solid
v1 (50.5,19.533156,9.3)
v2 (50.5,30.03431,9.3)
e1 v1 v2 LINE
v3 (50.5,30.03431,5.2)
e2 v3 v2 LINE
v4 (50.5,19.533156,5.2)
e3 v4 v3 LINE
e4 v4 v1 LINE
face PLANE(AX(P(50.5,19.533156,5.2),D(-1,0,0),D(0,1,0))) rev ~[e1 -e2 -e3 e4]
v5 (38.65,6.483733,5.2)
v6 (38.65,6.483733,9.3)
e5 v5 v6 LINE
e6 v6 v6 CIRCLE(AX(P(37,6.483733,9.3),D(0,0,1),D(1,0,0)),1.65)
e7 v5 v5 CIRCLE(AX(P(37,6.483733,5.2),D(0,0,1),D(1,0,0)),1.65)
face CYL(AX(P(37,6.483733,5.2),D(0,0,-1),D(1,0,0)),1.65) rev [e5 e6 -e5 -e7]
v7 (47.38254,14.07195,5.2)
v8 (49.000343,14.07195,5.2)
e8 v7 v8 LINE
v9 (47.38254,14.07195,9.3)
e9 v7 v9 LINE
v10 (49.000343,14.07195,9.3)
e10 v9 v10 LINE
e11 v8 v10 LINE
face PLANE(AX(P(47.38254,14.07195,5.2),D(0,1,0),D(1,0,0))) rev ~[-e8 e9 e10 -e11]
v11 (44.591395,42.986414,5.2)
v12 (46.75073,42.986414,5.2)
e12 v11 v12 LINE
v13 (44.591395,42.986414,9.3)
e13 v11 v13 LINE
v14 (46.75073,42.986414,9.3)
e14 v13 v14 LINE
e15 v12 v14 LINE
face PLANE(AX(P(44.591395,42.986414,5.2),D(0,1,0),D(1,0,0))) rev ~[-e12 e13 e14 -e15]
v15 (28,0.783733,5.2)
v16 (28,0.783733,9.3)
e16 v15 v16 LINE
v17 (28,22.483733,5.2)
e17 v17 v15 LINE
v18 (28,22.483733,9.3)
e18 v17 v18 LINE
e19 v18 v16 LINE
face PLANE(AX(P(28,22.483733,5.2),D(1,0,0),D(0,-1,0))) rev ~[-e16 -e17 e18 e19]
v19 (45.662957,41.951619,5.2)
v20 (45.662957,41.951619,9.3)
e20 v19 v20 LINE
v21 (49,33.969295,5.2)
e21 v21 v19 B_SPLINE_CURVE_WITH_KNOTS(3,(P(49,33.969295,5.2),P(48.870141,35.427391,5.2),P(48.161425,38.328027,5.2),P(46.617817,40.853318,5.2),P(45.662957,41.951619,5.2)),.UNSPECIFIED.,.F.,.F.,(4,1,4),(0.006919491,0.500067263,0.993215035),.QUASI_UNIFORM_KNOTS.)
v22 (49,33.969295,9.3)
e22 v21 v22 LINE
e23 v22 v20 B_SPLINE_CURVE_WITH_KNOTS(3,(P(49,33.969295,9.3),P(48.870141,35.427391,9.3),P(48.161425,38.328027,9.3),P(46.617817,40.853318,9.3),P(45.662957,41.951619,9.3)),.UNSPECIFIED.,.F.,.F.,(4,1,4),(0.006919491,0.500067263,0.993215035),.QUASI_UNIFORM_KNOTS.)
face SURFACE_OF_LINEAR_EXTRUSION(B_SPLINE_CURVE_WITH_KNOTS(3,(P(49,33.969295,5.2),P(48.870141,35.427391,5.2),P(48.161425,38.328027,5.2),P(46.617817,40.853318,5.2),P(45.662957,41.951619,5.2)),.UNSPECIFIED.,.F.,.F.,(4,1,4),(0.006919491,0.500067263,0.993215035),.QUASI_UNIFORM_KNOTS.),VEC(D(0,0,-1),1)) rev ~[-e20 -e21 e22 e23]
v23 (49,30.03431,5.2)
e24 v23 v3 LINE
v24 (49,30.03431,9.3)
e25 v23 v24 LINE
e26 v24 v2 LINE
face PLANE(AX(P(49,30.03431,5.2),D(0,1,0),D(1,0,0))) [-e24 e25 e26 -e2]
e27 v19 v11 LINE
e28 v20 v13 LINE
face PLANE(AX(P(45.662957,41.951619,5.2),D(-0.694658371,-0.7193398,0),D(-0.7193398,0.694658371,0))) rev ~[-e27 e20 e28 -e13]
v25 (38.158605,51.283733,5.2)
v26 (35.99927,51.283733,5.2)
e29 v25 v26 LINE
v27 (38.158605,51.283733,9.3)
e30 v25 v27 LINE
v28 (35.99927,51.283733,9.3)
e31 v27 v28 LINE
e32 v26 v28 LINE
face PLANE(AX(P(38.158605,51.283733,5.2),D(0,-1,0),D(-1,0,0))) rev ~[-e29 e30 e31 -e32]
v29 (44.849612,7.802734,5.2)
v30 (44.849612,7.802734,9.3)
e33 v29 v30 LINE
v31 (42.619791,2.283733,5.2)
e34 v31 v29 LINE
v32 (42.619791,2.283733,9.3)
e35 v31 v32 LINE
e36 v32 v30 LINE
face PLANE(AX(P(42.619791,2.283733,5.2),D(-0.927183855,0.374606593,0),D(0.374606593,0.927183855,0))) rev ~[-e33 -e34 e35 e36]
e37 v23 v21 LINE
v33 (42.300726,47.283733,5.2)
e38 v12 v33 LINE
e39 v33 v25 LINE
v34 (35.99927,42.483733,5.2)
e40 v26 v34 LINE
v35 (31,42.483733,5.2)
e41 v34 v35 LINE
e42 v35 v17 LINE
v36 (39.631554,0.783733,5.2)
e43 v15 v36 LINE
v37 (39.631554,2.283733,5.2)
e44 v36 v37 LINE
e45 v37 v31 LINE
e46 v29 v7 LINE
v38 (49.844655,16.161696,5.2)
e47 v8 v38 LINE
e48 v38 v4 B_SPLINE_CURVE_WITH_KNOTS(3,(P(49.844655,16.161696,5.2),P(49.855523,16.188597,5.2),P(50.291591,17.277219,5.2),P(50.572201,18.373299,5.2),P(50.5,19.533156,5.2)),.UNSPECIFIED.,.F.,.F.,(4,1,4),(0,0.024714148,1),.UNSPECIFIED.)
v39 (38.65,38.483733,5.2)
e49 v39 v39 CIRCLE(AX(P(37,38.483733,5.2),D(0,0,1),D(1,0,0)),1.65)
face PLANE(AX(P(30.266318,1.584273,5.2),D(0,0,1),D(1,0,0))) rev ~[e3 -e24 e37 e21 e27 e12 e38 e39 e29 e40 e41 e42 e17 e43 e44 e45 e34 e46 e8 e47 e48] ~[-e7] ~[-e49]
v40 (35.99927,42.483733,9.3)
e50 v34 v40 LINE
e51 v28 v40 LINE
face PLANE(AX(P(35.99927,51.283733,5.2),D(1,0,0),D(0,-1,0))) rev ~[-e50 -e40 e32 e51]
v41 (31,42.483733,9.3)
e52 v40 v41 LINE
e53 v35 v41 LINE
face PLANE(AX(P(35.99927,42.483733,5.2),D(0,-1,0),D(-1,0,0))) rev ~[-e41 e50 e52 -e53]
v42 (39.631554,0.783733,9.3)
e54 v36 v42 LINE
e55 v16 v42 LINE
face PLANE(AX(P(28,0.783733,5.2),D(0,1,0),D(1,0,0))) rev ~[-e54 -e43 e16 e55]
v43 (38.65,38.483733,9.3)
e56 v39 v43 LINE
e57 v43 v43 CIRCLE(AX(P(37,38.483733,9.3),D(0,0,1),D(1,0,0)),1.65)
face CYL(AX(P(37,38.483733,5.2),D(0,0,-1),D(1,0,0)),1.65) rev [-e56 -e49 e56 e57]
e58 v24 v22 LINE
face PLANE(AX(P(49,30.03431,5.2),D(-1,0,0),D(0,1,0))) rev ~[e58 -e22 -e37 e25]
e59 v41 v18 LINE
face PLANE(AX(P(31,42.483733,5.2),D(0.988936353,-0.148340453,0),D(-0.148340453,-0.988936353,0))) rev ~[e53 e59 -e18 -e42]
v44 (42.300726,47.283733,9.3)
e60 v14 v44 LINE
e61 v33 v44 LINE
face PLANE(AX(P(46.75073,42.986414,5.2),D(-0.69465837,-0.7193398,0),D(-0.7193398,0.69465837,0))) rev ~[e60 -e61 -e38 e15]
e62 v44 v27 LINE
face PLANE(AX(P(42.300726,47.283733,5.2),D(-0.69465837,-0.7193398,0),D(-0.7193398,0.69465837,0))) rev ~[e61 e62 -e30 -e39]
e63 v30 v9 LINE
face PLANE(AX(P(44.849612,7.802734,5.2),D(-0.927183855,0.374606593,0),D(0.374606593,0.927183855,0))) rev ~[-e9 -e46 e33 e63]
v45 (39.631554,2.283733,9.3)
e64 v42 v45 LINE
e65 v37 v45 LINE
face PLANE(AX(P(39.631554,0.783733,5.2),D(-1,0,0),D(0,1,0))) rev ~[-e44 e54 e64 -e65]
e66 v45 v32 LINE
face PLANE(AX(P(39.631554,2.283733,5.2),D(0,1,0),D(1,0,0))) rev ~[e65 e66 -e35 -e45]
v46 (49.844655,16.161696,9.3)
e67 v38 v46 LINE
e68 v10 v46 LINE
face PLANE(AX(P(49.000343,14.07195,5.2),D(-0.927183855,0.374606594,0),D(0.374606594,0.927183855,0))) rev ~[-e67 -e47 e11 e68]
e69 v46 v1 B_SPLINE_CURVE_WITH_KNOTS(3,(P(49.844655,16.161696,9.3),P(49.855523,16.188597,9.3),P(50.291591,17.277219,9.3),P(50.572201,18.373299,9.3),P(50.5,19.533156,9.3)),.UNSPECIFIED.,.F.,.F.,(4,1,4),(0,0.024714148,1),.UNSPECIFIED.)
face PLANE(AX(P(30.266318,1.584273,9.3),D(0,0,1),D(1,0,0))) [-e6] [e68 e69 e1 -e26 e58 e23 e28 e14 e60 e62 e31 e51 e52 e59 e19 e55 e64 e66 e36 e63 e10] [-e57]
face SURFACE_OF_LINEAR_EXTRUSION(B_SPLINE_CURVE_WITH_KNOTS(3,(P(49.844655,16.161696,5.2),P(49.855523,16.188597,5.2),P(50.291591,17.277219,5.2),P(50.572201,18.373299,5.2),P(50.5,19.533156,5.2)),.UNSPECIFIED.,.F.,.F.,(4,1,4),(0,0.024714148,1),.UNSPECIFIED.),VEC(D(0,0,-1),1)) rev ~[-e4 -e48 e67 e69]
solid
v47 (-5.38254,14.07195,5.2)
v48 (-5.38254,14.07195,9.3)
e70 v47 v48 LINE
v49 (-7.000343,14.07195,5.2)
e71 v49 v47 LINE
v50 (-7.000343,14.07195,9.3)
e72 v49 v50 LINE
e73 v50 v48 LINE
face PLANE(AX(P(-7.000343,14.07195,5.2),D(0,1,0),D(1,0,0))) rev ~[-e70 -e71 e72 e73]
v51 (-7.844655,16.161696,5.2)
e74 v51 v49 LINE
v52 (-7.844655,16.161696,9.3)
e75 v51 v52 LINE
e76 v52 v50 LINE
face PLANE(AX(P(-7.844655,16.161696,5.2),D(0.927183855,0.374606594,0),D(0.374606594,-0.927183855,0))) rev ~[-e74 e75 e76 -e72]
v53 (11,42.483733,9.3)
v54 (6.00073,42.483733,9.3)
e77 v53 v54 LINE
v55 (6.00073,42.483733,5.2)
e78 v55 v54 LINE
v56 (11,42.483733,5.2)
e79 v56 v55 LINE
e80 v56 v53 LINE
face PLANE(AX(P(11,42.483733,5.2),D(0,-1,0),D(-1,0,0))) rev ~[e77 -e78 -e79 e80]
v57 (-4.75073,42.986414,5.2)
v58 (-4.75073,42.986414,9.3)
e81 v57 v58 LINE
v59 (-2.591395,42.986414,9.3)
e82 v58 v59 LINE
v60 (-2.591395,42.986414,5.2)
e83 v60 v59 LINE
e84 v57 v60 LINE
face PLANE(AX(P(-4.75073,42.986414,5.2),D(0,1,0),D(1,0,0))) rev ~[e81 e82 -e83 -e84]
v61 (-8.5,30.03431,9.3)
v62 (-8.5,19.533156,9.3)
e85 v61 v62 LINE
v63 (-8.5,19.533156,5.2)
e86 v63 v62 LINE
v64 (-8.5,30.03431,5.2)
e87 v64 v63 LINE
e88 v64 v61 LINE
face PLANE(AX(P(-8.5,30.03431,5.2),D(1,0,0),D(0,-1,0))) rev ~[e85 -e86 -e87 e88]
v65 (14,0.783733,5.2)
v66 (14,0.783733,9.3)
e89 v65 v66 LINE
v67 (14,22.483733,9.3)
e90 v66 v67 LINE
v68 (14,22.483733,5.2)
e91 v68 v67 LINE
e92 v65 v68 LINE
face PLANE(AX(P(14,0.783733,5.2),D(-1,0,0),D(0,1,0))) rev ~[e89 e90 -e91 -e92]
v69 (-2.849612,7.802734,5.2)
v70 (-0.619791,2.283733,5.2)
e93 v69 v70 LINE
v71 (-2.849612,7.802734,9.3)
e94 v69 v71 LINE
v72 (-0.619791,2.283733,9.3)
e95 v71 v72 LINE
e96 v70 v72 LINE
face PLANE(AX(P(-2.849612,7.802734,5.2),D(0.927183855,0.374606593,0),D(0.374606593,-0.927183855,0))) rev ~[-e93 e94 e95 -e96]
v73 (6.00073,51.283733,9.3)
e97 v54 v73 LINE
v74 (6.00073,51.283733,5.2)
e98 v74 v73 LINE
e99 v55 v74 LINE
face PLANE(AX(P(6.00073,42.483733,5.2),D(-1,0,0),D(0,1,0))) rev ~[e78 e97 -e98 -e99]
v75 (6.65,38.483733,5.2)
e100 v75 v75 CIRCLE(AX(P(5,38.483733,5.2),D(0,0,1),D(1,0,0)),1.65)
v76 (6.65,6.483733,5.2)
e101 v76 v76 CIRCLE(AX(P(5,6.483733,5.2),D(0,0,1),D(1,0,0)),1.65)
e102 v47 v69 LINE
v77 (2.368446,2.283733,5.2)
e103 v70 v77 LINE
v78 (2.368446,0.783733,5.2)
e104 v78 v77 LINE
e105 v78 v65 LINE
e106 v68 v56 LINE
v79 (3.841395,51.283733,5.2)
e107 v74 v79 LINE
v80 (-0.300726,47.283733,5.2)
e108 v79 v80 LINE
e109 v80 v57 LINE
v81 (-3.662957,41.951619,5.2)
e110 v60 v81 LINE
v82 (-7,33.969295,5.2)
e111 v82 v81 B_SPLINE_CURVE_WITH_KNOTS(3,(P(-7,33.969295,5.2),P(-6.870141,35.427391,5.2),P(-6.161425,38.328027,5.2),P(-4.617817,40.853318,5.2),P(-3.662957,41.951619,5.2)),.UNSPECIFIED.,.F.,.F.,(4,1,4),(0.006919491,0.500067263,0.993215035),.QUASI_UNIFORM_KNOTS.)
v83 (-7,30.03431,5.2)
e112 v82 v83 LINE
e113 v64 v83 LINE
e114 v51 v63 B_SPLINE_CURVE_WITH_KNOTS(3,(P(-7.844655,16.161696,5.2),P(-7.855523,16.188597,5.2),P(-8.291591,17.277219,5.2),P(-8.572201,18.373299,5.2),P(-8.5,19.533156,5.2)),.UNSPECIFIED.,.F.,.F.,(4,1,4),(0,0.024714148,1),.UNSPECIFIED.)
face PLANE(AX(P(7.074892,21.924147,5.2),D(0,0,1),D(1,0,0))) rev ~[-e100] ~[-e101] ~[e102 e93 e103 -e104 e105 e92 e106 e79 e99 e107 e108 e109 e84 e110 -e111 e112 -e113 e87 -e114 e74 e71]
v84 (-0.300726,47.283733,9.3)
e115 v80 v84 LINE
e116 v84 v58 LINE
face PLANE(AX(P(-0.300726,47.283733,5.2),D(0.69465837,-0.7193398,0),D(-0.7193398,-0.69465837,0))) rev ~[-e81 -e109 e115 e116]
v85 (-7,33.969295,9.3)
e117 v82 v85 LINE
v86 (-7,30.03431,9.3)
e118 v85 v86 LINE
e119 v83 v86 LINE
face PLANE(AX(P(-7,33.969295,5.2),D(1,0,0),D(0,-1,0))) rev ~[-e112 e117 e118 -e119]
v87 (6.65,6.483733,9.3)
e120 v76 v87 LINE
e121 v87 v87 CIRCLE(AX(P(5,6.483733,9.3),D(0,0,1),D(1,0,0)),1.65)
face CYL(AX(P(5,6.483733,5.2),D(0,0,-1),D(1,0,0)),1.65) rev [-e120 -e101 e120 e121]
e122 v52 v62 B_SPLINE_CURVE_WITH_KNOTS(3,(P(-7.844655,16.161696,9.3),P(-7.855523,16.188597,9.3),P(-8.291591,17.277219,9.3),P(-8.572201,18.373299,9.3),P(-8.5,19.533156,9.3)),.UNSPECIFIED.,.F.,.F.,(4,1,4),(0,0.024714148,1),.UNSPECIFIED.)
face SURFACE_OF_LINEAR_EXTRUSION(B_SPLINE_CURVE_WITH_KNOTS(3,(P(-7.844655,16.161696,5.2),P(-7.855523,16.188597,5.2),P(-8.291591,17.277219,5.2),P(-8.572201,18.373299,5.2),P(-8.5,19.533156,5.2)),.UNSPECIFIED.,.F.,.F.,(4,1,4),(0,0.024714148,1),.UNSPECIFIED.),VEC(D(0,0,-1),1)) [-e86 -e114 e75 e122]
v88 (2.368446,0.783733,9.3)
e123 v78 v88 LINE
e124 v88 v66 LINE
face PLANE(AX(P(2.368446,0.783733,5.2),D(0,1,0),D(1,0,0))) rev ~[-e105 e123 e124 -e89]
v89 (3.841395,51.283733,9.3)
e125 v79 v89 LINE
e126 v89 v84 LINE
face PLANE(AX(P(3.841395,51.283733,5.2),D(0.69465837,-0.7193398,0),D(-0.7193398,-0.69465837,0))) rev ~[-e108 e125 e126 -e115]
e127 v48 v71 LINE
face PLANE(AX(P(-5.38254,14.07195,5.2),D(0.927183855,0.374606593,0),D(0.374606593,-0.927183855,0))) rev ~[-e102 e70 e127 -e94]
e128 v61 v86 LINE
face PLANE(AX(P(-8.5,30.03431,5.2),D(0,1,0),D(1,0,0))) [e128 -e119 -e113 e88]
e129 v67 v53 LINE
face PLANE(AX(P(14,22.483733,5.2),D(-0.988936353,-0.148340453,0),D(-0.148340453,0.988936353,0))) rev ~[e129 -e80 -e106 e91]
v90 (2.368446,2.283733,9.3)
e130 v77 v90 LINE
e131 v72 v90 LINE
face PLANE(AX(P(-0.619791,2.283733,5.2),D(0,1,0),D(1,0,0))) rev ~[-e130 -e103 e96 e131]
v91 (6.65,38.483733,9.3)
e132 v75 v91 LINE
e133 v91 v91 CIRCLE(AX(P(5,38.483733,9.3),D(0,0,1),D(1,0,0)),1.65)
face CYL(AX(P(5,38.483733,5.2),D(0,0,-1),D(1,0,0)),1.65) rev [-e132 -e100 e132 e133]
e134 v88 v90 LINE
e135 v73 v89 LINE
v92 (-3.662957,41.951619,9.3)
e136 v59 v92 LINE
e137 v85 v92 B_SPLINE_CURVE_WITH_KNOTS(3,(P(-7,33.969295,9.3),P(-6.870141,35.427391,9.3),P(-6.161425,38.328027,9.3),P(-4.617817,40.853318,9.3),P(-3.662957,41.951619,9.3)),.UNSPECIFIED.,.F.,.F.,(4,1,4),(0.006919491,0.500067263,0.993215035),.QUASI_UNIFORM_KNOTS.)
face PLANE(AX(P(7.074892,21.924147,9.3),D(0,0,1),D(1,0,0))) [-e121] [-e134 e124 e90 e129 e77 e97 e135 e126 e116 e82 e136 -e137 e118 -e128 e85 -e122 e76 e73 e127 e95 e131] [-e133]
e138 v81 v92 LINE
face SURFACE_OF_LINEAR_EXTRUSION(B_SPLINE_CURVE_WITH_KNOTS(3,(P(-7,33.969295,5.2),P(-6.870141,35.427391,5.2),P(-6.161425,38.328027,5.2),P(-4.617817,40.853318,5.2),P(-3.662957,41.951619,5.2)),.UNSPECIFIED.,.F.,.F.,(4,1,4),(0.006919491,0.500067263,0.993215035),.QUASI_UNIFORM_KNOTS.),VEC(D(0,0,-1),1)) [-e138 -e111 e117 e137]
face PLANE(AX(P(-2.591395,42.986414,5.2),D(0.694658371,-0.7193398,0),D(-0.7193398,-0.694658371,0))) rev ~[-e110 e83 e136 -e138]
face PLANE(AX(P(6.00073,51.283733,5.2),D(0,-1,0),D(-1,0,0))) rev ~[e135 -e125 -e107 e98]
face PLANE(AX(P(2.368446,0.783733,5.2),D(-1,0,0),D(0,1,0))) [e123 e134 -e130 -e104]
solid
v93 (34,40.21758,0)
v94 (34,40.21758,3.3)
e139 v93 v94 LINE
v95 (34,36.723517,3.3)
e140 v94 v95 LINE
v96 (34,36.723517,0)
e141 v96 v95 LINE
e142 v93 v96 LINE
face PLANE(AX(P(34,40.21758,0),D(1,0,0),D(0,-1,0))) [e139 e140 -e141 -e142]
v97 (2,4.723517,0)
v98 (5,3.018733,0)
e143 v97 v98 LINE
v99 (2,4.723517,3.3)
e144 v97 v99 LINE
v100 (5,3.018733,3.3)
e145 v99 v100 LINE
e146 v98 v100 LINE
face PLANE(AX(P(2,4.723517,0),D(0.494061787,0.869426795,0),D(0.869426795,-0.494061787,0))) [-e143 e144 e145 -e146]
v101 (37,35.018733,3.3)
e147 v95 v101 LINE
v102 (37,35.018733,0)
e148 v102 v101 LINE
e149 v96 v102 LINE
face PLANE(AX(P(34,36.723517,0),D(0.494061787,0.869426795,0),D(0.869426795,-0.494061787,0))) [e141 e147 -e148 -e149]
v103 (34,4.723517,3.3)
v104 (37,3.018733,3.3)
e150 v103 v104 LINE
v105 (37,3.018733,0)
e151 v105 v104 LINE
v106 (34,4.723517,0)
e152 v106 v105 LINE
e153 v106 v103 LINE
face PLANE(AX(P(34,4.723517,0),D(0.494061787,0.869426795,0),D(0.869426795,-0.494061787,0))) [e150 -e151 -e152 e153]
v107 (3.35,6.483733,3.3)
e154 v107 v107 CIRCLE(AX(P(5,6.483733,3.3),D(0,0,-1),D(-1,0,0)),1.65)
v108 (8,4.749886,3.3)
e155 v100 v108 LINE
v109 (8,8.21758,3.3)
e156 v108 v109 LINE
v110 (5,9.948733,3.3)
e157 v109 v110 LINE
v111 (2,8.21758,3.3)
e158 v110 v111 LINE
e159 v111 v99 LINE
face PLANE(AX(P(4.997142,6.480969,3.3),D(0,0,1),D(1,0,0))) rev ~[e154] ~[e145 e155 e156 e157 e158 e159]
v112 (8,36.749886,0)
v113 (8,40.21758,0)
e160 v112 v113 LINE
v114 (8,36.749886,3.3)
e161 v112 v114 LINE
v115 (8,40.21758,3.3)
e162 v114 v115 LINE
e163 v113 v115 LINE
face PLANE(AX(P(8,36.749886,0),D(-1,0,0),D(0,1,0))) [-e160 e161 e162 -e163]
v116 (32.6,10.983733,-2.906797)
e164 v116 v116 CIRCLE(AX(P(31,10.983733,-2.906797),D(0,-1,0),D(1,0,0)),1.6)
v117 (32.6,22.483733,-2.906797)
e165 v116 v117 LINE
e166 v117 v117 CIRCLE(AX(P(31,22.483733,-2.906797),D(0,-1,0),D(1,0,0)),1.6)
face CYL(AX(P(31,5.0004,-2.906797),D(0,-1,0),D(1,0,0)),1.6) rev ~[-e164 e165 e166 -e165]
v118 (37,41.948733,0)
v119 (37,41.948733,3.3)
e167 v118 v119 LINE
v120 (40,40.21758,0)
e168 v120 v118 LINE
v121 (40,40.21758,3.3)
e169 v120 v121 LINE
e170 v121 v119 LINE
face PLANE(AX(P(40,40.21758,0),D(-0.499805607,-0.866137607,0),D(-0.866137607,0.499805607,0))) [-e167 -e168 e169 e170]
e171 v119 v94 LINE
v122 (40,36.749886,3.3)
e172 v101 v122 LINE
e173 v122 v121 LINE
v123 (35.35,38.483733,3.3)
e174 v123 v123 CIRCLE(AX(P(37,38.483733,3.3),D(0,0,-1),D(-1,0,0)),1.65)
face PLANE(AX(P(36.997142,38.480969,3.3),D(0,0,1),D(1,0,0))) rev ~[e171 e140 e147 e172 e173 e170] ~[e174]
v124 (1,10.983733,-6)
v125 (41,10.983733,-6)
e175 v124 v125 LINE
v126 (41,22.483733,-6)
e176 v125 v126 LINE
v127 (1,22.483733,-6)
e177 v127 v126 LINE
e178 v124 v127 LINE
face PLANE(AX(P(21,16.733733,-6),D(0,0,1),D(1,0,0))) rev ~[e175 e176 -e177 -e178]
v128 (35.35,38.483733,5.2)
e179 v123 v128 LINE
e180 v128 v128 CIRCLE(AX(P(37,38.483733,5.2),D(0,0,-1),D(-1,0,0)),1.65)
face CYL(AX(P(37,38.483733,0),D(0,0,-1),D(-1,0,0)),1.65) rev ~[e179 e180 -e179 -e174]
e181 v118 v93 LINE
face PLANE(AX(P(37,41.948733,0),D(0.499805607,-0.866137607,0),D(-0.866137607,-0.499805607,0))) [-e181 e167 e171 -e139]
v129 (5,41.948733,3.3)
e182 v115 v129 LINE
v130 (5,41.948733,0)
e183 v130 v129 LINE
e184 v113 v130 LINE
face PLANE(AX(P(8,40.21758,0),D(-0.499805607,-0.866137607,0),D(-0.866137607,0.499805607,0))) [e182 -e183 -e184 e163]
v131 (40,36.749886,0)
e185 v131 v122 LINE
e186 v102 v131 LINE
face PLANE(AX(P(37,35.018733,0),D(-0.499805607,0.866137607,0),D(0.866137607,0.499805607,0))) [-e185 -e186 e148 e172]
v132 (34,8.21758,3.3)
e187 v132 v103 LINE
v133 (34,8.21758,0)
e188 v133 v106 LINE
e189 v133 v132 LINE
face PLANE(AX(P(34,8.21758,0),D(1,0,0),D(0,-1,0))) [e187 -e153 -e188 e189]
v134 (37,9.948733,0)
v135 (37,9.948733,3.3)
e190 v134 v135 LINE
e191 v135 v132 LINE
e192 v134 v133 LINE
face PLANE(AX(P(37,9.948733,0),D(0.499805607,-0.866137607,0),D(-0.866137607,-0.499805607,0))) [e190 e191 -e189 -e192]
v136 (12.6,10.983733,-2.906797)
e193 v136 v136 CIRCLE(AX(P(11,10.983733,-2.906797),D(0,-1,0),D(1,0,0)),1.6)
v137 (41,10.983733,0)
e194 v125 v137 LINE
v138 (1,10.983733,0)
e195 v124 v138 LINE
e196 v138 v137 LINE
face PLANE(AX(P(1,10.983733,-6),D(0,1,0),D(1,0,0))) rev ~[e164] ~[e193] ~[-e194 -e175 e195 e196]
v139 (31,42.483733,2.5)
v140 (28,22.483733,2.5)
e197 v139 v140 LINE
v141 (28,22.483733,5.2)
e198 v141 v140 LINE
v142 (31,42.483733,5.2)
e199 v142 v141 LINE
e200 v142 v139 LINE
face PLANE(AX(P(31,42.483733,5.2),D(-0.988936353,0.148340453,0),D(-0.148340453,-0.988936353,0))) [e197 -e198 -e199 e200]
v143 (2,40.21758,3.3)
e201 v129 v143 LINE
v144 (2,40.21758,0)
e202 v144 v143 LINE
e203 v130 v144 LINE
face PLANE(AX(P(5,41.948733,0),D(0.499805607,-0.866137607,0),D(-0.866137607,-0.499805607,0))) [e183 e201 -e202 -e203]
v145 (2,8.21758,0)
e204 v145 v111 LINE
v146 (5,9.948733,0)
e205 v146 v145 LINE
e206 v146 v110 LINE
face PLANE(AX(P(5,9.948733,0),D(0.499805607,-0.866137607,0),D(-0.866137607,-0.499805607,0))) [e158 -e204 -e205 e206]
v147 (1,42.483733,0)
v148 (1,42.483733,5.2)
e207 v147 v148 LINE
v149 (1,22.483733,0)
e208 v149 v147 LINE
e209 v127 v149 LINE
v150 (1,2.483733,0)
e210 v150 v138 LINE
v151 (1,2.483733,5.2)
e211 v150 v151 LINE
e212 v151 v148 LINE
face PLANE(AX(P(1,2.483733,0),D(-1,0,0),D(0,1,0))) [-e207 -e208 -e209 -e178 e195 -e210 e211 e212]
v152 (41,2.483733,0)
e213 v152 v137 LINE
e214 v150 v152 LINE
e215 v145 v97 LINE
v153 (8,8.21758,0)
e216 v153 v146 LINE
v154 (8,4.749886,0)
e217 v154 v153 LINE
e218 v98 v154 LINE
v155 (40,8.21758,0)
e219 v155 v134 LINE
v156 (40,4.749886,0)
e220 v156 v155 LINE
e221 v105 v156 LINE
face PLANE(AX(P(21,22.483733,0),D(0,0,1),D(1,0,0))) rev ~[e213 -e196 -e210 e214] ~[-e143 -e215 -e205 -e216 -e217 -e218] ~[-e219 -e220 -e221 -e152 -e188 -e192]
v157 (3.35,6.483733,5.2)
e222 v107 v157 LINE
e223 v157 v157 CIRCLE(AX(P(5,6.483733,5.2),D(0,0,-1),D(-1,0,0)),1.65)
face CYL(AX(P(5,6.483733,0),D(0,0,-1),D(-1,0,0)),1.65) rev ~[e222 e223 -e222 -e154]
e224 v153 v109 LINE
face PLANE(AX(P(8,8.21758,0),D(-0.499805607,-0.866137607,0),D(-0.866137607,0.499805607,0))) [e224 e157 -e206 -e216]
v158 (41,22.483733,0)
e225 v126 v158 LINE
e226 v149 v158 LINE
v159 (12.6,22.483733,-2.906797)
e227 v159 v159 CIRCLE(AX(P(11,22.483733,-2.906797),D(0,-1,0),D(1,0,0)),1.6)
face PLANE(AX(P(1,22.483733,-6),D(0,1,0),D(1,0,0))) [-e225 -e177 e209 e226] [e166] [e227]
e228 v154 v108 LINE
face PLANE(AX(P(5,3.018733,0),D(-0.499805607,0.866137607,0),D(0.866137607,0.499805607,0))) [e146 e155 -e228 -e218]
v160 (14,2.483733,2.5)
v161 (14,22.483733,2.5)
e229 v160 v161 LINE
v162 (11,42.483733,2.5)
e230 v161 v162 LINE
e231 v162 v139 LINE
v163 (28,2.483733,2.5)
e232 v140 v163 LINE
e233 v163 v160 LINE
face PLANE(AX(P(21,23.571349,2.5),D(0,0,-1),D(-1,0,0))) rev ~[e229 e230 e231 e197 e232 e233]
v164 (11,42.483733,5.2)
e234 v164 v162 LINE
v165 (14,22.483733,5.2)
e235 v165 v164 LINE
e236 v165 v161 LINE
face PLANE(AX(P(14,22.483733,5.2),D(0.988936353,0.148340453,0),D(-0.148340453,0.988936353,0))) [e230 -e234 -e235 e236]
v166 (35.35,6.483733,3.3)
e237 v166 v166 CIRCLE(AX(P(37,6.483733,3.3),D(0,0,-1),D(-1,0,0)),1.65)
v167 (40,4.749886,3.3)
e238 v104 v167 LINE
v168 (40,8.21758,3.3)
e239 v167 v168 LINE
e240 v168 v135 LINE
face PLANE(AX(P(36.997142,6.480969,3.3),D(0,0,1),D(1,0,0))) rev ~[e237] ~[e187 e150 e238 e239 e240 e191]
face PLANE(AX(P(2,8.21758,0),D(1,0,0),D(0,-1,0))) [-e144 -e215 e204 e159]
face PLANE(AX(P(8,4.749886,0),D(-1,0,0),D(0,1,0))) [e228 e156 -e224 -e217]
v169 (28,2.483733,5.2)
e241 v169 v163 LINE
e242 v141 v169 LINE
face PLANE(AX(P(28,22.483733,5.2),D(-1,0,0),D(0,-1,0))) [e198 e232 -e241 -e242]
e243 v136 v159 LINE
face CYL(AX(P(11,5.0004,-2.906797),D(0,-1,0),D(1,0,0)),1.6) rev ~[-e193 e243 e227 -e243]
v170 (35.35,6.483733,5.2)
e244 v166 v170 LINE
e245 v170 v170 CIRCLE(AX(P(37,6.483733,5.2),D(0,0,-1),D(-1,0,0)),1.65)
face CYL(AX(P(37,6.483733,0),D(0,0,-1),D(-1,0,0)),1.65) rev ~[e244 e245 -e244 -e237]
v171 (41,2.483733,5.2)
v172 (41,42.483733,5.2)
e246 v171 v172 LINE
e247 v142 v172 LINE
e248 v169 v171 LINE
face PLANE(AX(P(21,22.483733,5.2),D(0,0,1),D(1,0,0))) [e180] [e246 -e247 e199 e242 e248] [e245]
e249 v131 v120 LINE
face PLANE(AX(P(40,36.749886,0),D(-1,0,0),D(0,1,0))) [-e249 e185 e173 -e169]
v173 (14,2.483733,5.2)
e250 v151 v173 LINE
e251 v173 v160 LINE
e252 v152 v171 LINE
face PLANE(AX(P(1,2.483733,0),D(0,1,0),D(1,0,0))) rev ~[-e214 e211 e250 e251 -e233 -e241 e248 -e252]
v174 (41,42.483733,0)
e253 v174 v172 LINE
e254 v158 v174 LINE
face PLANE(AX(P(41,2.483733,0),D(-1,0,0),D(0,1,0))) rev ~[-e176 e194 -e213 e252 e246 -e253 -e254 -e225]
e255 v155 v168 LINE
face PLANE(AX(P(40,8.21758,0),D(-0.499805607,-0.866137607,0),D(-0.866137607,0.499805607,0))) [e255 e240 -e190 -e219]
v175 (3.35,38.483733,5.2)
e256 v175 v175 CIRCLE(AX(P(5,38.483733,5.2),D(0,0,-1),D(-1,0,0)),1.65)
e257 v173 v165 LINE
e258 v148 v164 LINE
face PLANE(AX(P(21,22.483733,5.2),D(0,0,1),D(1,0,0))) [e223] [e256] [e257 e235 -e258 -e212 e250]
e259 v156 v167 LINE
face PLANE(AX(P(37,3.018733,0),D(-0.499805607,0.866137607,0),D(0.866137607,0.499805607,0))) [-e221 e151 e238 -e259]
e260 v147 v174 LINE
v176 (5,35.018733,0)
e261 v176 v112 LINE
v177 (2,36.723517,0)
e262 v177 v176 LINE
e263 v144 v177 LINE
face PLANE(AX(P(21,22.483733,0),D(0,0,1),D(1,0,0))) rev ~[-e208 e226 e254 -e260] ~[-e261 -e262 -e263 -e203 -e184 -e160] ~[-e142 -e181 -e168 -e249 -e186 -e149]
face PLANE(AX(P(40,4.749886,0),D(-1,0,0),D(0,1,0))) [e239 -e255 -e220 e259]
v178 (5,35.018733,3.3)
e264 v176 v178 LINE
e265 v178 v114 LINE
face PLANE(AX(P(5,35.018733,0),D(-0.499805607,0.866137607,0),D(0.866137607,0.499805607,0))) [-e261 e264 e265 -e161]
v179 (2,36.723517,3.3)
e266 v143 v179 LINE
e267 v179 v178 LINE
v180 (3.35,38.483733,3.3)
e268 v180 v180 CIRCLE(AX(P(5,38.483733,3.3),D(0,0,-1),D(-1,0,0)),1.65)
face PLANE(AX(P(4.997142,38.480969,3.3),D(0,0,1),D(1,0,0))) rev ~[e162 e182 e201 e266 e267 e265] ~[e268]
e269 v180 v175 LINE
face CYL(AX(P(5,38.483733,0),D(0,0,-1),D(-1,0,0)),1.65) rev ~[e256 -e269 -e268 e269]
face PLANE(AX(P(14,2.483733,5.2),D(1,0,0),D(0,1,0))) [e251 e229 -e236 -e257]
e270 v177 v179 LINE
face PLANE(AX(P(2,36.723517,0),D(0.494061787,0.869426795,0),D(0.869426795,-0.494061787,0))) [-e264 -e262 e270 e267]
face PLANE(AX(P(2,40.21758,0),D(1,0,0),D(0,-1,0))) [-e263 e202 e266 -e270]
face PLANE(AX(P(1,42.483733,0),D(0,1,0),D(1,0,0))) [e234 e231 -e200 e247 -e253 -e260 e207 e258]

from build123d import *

# Parameters (mm, degrees)
SKETCH1_W                 = 40
SKETCH1_H                 = 40
BOSS_EXTRUDE1_DEPTH       = 5.2
SKETCH2_W                 = 40
SKETCH2_H                 = 11.5
BOSS_EXTRUDE2_DEPTH       = 6
SKETCH3_R                 = 1.6
CUT_EXTRUDE1_DEPTH        = 37.483333333
SKETCH4_R                 = 1.65
CUT_EXTRUDE2_DEPTH        = 5.2
CUT_EXTRUDE3_DEPTH        = 3.3
LPATTERN1_COUNT           = 2
LPATTERN1_PITCH           = 32
LPATTERN2_COUNT           = 2
LPATTERN2_PITCH           = 32
LPATTERN2_COPY_1_SKETCH_R = 1.65
LPATTERN2_COPY_1_DEPTH    = 5.2
LPATTERN2_COPY_2_DEPTH    = 3.3
CUT_EXTRUDE4_DEPTH        = 2.7
SKETCH6_3_R               = 1.65
SKETCH6_3_W               = 7
SKETCH6_3_H               = 1.5
SKETCH6_3_W_2             = 1.5
SKETCH6_3_H_2             = 7.501154436
BOSS_EXTRUDE3_DEPTH       = 4.1


with BuildPart() as part:
    # Sketch1 → Boss-Extrude1 (new body)
    with BuildSketch(Plane.XY):
        with Locations((21, 22.483732861)):
            Rectangle(SKETCH1_W, SKETCH1_H)
    extrude(amount=BOSS_EXTRUDE1_DEPTH)

    # Sketch2 → Boss-Extrude2 (add)
    with BuildSketch(Plane.XY.offset(-6)):
        with Locations((21, 16.733732861)):
            Rectangle(SKETCH2_W, SKETCH2_H)
    extrude(amount=BOSS_EXTRUDE2_DEPTH)

    # Sketch3 → Cut-Extrude1 (cut)
    with BuildSketch(Plane.XZ.offset(-5.000399528)):
        with Locations((11, -2.906796507)):
            Circle(SKETCH3_R)
        with Locations((31, -2.906796507)):
            Circle(SKETCH3_R)
    extrude(amount=-CUT_EXTRUDE1_DEPTH, mode=Mode.SUBTRACT)

    # Sketch4 → Cut-Extrude2 (cut)
    with BuildSketch(Plane(origin=(0, 0, 0), x_dir=(-1, 0, 0), z_dir=(0, 0, -1))):
        with Locations((-5, 6.483732861)):
            Circle(SKETCH4_R)
    cut_extrude2 = extrude(amount=-CUT_EXTRUDE2_DEPTH, mode=Mode.SUBTRACT)

    # Sketch1<3> → Cut-Extrude3 (cut)
    with BuildSketch(Plane.XY):
        Polygon((2, 4.723517403), (5, 3.018732861), (8, 4.749885982), (8, 8.21757974), (5, 9.948732861), (2, 8.21757974), align=None)
    cut_extrude3 = extrude(amount=CUT_EXTRUDE3_DEPTH, mode=Mode.SUBTRACT)

    # LPattern1: Cut-Extrude2, Cut-Extrude3 ×2
    with Locations(*[(i * LPATTERN1_PITCH, 0, 0) for i in range(1, LPATTERN1_COUNT)]):
        add(cut_extrude2, mode=Mode.SUBTRACT)
        add(cut_extrude3, mode=Mode.SUBTRACT)

    # LPattern2: Cut-Extrude2, Cut-Extrude3 ×2
    with Locations(*[(0, i * LPATTERN2_PITCH, 0) for i in range(1, LPATTERN2_COUNT)]):
        add(cut_extrude2, mode=Mode.SUBTRACT)
        add(cut_extrude3, mode=Mode.SUBTRACT)

    # LPattern2 copy 1 sketch → LPattern2 copy 1 (cut)
    with BuildSketch(Plane(origin=(32, 32, 0), x_dir=(-1, 0, 0), z_dir=(0, 0, -1))):
        with Locations((-5, 6.483732861)):
            Circle(LPATTERN2_COPY_1_SKETCH_R)
    extrude(amount=-LPATTERN2_COPY_1_DEPTH, mode=Mode.SUBTRACT)

    # LPattern2 copy 2 sketch → LPattern2 copy 2 (cut)
    with BuildSketch(Plane(origin=(32, 32, 0), x_dir=(1, 0, 0), z_dir=(0, 0, 1))):
        Polygon((2, 4.723517403), (5, 3.018732861), (8, 4.749885982), (8, 8.21757974), (5, 9.948732861), (2, 8.21757974), align=None)
    extrude(amount=LPATTERN2_COPY_2_DEPTH, mode=Mode.SUBTRACT)

    # Sketch6 → Cut-Extrude4 (cut)
    with BuildSketch(Plane.XY.offset(5.2)):
        Polygon((14, 2.483732861), (14, 22.483732861), (11, 42.483732861), (31, 42.483732861), (28, 22.483732861), (28, 2.483732861), align=None)
    extrude(amount=-CUT_EXTRUDE4_DEPTH, mode=Mode.SUBTRACT)


with BuildPart() as body_2:
    # Sketch6<3> → Boss-Extrude3 (new body)
    with BuildSketch(Plane.XY.offset(5.2)):
        Polygon((12.5, 2.483732861), (14, 2.483732861), (14, 22.483732861), (11, 42.483732861), (6.000729911, 42.483732861), (4.500729911, 42.483732861), (1, 42.483732861), (1, 2.483732861), align=None)
        with Locations((5, 6.483732861)):
            Circle(SKETCH6_3_R, mode=Mode.SUBTRACT)
        with Locations((5, 38.483732861)):
            Circle(SKETCH6_3_R, mode=Mode.SUBTRACT)
        Polygon((14, 0.783732861), (14, 2.483732861), (12.5, 2.483732861), (12.5, 2.283732861), (9.368445839, 2.283732861), (9.368445839, 0.783732861), align=None)
        Polygon((29.5, 2.483732861), (28, 2.483732861), (28, 0.783732861), (32.631554161, 0.783732861), (32.631554161, 2.283732861), (29.5, 2.283732861), align=None)
        Polygon((28, 22.483732861), (28, 2.483732861), (29.5, 2.483732861), (41, 2.483732861), (41, 42.483732861), (37.499270089, 42.483732861), (35.999270089, 42.483732861), (31, 42.483732861), align=None)
        with Locations((37, 6.483732861)):
            Circle(SKETCH6_3_R, mode=Mode.SUBTRACT)
        with Locations((37, 38.483732861)):
            Circle(SKETCH6_3_R, mode=Mode.SUBTRACT)
        with BuildLine():
            Line((12.5, 2.283732861), (12.5, 2.483732861))
            Line((12.5, 2.483732861), (1, 2.483732861))
            Line((1, 2.483732861), (1, 42.483732861))
            Line((1, 42.483732861), (4.500729911, 42.483732861))
            Line((4.500729911, 42.483732861), (4.500729911, 49.783732861))
            Line((4.500729911, 49.783732861), (4.447434441, 49.783732861))
            Line((4.447434441, 49.783732861), (1.858608656, 47.283732861))
            Line((1.858608656, 47.283732861), (-2.591394921, 42.986414359))
            Line((-2.591394921, 42.986414359), (-3.662956957, 41.951618929))
            add(Edge.make_bspline(
                [(-7, 33.969294903), (-6.870140729, 35.427391096), (-6.161424767, 38.328027166), (-4.617817273, 40.853318284), (-3.662956957, 41.951618929)],
                knots=[0.006919491, 0.006919491, 0.006919491, 0.006919491, 0.500067263, 0.993215035, 0.993215035, 0.993215035, 0.993215035], degree=3))
            Line((-7, 33.969294903), (-7, 30.034310079))
            Line((-7, 30.034310079), (-7, 22.533155643))
            Line((-7, 22.533155643), (-7, 19.486513051))
            add(Edge.make_bspline(
                [(-6.453878909, 16.723606193), (-6.550035771, 16.961602777), (-6.732637504, 17.457071628), (-6.915191313, 18.140873432), (-6.997225272, 18.69458891), (-7.013036312, 19.085155681), (-7.01063743, 19.3023473), (-7.003738635, 19.426454967), (-7, 19.486513051)],
                knots=[0, 0, 0, 0, 0.253262039, 0.506524078, 0.759786116, 0.886417136, 0.949732645, 1.013048155, 1.013048155, 1.013048155, 1.013048155], degree=3))
            Line((-6.453878909, 16.723606193), (-5.382540429, 14.071950405))
            Line((-5.382540429, 14.071950405), (-2.849612404, 7.802733549))
            Line((-2.849612404, 7.802733549), (-0.619791386, 2.283732861))
            Line((-0.619791386, 2.283732861), (2.368445839, 2.283732861))
            Line((2.368445839, 2.283732861), (9.368445839, 2.283732861))
            Line((9.368445839, 2.283732861), (12.5, 2.283732861))
        make_face()
        with BuildLine():
            Line((41, 2.483732861), (29.5, 2.483732861))
            Line((29.5, 2.483732861), (29.5, 2.283732861))
            Line((29.5, 2.283732861), (32.631554161, 2.283732861))
            Line((32.631554161, 2.283732861), (39.631554161, 2.283732861))
            Line((39.631554161, 2.283732861), (42.619791386, 2.283732861))
            Line((42.619791386, 2.283732861), (44.849612404, 7.802733549))
            Line((44.849612404, 7.802733549), (47.382540429, 14.071950405))
            Line((47.382540429, 14.071950405), (48.453878909, 16.723606193))
            add(Edge.make_bspline(
                [(48.453878909, 16.723606193), (48.550035771, 16.961602777), (48.732637504, 17.457071628), (48.915191313, 18.140873432), (48.997225272, 18.69458891), (49.013036312, 19.085155681), (49.01063743, 19.3023473), (49.003738635, 19.426454967), (49, 19.486513051)],
                knots=[0, 0, 0, 0, 0.253262039, 0.506524078, 0.759786116, 0.886417136, 0.949732645, 1.013048155, 1.013048155, 1.013048155, 1.013048155], degree=3))
            Line((49, 19.486513051), (49, 22.533155643))
            Line((49, 22.533155643), (49, 30.034310079))
            Line((49, 30.034310079), (49, 33.969294903))
            add(Edge.make_bspline(
                [(49, 33.969294903), (48.870140729, 35.427391096), (48.161424767, 38.328027166), (46.617817273, 40.853318284), (45.662956957, 41.951618929)],
                knots=[0.006919491, 0.006919491, 0.006919491, 0.006919491, 0.500067263, 0.993215035, 0.993215035, 0.993215035, 0.993215035], degree=3))
            Line((45.662956957, 41.951618929), (44.591394921, 42.986414359))
            Line((44.591394921, 42.986414359), (40.141391344, 47.283732861))
            Line((40.141391344, 47.283732861), (37.552565559, 49.783732861))
            Line((37.552565559, 49.783732861), (37.499270089, 49.783732861))
            Line((37.499270089, 49.783732861), (37.499270089, 42.483732861))
            Line((37.499270089, 42.483732861), (41, 42.483732861))
            Line((41, 42.483732861), (41, 2.483732861))
        make_face()
        with Locations((5.868445839, 1.533732861)):
            Rectangle(SKETCH6_3_W, SKETCH6_3_H)
        Polygon((4.500729911, 42.483732861), (6.000729911, 42.483732861), (6.000729911, 51.283732861), (3.841395102, 51.283732861), (-0.300726153, 47.283732861), (1.858608656, 47.283732861), (4.447434441, 49.783732861), (4.500729911, 49.783732861), align=None)
        with Locations((36.131554161, 1.533732861)):
            Rectangle(SKETCH6_3_W, SKETCH6_3_H)
        Polygon((35.999270089, 51.283732861), (35.999270089, 42.483732861), (37.499270089, 42.483732861), (37.499270089, 49.783732861), (37.552565559, 49.783732861), (40.141391344, 47.283732861), (42.300726153, 47.283732861), (38.158604898, 51.283732861), align=None)
        Polygon((1.858608656, 47.283732861), (-0.300726153, 47.283732861), (-4.75072973, 42.986414359), (-2.591394921, 42.986414359), align=None)
        with BuildLine():
            Line((-7.844654691, 16.161696302), (-7.000342543, 14.071950405))
            Line((-7.000342543, 14.071950405), (-5.382540429, 14.071950405))
            Line((-5.382540429, 14.071950405), (-6.453878909, 16.723606193))
            add(Edge.make_bspline(
                [(-6.453878909, 16.723606193), (-6.550035771, 16.961602777), (-6.732637504, 17.457071628), (-6.915191313, 18.140873432), (-6.997225272, 18.69458891), (-7.013036312, 19.085155681), (-7.01063743, 19.3023473), (-7.003738635, 19.426454967), (-7, 19.486513051)],
                knots=[0, 0, 0, 0, 0.253262039, 0.506524078, 0.759786116, 0.886417136, 0.949732645, 1.013048155, 1.013048155, 1.013048155, 1.013048155], degree=3))
            Line((-7, 19.486513051), (-7, 22.533155643))
            Line((-7, 22.533155643), (-8.5, 22.533155643))
            Line((-8.5, 22.533155643), (-8.5, 19.533155643))
            add(Edge.make_bspline(
                [(-7.844654691, 16.161696302), (-7.855523466, 16.188597464), (-8.291591299, 17.277219009), (-8.572201451, 18.373298795), (-8.5, 19.533155643)],
                knots=[0, 0, 0, 0, 0.024714148, 1, 1, 1, 1], degree=3))
        make_face()
        Polygon((46.75072973, 42.986414359), (42.300726153, 47.283732861), (40.141391344, 47.283732861), (44.591394921, 42.986414359), align=None)
        with BuildLine():
            Line((47.382540429, 14.071950405), (49.000342543, 14.071950405))
            Line((49.000342543, 14.071950405), (49.844654691, 16.161696302))
            add(Edge.make_bspline(
                [(49.844654691, 16.161696302), (49.855523466, 16.188597464), (50.291591299, 17.277219009), (50.572201451, 18.373298795), (50.5, 19.533155643)],
                knots=[0, 0, 0, 0, 0.024714148, 1, 1, 1, 1], degree=3))
            Line((50.5, 19.533155643), (50.5, 22.533155643))
            Line((50.5, 22.533155643), (49, 22.533155643))
            Line((49, 22.533155643), (49, 19.486513051))
            add(Edge.make_bspline(
                [(48.453878909, 16.723606193), (48.550035771, 16.961602777), (48.732637504, 17.457071628), (48.915191313, 18.140873432), (48.997225272, 18.69458891), (49.013036312, 19.085155681), (49.01063743, 19.3023473), (49.003738635, 19.426454967), (49, 19.486513051)],
                knots=[0, 0, 0, 0, 0.253262039, 0.506524078, 0.759786116, 0.886417136, 0.949732645, 1.013048155, 1.013048155, 1.013048155, 1.013048155], degree=3))
            Line((48.453878909, 16.723606193), (47.382540429, 14.071950405))
        make_face()
        with Locations((-7.75, 26.283732861)):
            Rectangle(SKETCH6_3_W_2, SKETCH6_3_H_2)
        with Locations((49.75, 26.283732861)):
            Rectangle(SKETCH6_3_W_2, SKETCH6_3_H_2)
    extrude(amount=BOSS_EXTRUDE3_DEPTH)


solid = Compound([part.part, body_2.part])
